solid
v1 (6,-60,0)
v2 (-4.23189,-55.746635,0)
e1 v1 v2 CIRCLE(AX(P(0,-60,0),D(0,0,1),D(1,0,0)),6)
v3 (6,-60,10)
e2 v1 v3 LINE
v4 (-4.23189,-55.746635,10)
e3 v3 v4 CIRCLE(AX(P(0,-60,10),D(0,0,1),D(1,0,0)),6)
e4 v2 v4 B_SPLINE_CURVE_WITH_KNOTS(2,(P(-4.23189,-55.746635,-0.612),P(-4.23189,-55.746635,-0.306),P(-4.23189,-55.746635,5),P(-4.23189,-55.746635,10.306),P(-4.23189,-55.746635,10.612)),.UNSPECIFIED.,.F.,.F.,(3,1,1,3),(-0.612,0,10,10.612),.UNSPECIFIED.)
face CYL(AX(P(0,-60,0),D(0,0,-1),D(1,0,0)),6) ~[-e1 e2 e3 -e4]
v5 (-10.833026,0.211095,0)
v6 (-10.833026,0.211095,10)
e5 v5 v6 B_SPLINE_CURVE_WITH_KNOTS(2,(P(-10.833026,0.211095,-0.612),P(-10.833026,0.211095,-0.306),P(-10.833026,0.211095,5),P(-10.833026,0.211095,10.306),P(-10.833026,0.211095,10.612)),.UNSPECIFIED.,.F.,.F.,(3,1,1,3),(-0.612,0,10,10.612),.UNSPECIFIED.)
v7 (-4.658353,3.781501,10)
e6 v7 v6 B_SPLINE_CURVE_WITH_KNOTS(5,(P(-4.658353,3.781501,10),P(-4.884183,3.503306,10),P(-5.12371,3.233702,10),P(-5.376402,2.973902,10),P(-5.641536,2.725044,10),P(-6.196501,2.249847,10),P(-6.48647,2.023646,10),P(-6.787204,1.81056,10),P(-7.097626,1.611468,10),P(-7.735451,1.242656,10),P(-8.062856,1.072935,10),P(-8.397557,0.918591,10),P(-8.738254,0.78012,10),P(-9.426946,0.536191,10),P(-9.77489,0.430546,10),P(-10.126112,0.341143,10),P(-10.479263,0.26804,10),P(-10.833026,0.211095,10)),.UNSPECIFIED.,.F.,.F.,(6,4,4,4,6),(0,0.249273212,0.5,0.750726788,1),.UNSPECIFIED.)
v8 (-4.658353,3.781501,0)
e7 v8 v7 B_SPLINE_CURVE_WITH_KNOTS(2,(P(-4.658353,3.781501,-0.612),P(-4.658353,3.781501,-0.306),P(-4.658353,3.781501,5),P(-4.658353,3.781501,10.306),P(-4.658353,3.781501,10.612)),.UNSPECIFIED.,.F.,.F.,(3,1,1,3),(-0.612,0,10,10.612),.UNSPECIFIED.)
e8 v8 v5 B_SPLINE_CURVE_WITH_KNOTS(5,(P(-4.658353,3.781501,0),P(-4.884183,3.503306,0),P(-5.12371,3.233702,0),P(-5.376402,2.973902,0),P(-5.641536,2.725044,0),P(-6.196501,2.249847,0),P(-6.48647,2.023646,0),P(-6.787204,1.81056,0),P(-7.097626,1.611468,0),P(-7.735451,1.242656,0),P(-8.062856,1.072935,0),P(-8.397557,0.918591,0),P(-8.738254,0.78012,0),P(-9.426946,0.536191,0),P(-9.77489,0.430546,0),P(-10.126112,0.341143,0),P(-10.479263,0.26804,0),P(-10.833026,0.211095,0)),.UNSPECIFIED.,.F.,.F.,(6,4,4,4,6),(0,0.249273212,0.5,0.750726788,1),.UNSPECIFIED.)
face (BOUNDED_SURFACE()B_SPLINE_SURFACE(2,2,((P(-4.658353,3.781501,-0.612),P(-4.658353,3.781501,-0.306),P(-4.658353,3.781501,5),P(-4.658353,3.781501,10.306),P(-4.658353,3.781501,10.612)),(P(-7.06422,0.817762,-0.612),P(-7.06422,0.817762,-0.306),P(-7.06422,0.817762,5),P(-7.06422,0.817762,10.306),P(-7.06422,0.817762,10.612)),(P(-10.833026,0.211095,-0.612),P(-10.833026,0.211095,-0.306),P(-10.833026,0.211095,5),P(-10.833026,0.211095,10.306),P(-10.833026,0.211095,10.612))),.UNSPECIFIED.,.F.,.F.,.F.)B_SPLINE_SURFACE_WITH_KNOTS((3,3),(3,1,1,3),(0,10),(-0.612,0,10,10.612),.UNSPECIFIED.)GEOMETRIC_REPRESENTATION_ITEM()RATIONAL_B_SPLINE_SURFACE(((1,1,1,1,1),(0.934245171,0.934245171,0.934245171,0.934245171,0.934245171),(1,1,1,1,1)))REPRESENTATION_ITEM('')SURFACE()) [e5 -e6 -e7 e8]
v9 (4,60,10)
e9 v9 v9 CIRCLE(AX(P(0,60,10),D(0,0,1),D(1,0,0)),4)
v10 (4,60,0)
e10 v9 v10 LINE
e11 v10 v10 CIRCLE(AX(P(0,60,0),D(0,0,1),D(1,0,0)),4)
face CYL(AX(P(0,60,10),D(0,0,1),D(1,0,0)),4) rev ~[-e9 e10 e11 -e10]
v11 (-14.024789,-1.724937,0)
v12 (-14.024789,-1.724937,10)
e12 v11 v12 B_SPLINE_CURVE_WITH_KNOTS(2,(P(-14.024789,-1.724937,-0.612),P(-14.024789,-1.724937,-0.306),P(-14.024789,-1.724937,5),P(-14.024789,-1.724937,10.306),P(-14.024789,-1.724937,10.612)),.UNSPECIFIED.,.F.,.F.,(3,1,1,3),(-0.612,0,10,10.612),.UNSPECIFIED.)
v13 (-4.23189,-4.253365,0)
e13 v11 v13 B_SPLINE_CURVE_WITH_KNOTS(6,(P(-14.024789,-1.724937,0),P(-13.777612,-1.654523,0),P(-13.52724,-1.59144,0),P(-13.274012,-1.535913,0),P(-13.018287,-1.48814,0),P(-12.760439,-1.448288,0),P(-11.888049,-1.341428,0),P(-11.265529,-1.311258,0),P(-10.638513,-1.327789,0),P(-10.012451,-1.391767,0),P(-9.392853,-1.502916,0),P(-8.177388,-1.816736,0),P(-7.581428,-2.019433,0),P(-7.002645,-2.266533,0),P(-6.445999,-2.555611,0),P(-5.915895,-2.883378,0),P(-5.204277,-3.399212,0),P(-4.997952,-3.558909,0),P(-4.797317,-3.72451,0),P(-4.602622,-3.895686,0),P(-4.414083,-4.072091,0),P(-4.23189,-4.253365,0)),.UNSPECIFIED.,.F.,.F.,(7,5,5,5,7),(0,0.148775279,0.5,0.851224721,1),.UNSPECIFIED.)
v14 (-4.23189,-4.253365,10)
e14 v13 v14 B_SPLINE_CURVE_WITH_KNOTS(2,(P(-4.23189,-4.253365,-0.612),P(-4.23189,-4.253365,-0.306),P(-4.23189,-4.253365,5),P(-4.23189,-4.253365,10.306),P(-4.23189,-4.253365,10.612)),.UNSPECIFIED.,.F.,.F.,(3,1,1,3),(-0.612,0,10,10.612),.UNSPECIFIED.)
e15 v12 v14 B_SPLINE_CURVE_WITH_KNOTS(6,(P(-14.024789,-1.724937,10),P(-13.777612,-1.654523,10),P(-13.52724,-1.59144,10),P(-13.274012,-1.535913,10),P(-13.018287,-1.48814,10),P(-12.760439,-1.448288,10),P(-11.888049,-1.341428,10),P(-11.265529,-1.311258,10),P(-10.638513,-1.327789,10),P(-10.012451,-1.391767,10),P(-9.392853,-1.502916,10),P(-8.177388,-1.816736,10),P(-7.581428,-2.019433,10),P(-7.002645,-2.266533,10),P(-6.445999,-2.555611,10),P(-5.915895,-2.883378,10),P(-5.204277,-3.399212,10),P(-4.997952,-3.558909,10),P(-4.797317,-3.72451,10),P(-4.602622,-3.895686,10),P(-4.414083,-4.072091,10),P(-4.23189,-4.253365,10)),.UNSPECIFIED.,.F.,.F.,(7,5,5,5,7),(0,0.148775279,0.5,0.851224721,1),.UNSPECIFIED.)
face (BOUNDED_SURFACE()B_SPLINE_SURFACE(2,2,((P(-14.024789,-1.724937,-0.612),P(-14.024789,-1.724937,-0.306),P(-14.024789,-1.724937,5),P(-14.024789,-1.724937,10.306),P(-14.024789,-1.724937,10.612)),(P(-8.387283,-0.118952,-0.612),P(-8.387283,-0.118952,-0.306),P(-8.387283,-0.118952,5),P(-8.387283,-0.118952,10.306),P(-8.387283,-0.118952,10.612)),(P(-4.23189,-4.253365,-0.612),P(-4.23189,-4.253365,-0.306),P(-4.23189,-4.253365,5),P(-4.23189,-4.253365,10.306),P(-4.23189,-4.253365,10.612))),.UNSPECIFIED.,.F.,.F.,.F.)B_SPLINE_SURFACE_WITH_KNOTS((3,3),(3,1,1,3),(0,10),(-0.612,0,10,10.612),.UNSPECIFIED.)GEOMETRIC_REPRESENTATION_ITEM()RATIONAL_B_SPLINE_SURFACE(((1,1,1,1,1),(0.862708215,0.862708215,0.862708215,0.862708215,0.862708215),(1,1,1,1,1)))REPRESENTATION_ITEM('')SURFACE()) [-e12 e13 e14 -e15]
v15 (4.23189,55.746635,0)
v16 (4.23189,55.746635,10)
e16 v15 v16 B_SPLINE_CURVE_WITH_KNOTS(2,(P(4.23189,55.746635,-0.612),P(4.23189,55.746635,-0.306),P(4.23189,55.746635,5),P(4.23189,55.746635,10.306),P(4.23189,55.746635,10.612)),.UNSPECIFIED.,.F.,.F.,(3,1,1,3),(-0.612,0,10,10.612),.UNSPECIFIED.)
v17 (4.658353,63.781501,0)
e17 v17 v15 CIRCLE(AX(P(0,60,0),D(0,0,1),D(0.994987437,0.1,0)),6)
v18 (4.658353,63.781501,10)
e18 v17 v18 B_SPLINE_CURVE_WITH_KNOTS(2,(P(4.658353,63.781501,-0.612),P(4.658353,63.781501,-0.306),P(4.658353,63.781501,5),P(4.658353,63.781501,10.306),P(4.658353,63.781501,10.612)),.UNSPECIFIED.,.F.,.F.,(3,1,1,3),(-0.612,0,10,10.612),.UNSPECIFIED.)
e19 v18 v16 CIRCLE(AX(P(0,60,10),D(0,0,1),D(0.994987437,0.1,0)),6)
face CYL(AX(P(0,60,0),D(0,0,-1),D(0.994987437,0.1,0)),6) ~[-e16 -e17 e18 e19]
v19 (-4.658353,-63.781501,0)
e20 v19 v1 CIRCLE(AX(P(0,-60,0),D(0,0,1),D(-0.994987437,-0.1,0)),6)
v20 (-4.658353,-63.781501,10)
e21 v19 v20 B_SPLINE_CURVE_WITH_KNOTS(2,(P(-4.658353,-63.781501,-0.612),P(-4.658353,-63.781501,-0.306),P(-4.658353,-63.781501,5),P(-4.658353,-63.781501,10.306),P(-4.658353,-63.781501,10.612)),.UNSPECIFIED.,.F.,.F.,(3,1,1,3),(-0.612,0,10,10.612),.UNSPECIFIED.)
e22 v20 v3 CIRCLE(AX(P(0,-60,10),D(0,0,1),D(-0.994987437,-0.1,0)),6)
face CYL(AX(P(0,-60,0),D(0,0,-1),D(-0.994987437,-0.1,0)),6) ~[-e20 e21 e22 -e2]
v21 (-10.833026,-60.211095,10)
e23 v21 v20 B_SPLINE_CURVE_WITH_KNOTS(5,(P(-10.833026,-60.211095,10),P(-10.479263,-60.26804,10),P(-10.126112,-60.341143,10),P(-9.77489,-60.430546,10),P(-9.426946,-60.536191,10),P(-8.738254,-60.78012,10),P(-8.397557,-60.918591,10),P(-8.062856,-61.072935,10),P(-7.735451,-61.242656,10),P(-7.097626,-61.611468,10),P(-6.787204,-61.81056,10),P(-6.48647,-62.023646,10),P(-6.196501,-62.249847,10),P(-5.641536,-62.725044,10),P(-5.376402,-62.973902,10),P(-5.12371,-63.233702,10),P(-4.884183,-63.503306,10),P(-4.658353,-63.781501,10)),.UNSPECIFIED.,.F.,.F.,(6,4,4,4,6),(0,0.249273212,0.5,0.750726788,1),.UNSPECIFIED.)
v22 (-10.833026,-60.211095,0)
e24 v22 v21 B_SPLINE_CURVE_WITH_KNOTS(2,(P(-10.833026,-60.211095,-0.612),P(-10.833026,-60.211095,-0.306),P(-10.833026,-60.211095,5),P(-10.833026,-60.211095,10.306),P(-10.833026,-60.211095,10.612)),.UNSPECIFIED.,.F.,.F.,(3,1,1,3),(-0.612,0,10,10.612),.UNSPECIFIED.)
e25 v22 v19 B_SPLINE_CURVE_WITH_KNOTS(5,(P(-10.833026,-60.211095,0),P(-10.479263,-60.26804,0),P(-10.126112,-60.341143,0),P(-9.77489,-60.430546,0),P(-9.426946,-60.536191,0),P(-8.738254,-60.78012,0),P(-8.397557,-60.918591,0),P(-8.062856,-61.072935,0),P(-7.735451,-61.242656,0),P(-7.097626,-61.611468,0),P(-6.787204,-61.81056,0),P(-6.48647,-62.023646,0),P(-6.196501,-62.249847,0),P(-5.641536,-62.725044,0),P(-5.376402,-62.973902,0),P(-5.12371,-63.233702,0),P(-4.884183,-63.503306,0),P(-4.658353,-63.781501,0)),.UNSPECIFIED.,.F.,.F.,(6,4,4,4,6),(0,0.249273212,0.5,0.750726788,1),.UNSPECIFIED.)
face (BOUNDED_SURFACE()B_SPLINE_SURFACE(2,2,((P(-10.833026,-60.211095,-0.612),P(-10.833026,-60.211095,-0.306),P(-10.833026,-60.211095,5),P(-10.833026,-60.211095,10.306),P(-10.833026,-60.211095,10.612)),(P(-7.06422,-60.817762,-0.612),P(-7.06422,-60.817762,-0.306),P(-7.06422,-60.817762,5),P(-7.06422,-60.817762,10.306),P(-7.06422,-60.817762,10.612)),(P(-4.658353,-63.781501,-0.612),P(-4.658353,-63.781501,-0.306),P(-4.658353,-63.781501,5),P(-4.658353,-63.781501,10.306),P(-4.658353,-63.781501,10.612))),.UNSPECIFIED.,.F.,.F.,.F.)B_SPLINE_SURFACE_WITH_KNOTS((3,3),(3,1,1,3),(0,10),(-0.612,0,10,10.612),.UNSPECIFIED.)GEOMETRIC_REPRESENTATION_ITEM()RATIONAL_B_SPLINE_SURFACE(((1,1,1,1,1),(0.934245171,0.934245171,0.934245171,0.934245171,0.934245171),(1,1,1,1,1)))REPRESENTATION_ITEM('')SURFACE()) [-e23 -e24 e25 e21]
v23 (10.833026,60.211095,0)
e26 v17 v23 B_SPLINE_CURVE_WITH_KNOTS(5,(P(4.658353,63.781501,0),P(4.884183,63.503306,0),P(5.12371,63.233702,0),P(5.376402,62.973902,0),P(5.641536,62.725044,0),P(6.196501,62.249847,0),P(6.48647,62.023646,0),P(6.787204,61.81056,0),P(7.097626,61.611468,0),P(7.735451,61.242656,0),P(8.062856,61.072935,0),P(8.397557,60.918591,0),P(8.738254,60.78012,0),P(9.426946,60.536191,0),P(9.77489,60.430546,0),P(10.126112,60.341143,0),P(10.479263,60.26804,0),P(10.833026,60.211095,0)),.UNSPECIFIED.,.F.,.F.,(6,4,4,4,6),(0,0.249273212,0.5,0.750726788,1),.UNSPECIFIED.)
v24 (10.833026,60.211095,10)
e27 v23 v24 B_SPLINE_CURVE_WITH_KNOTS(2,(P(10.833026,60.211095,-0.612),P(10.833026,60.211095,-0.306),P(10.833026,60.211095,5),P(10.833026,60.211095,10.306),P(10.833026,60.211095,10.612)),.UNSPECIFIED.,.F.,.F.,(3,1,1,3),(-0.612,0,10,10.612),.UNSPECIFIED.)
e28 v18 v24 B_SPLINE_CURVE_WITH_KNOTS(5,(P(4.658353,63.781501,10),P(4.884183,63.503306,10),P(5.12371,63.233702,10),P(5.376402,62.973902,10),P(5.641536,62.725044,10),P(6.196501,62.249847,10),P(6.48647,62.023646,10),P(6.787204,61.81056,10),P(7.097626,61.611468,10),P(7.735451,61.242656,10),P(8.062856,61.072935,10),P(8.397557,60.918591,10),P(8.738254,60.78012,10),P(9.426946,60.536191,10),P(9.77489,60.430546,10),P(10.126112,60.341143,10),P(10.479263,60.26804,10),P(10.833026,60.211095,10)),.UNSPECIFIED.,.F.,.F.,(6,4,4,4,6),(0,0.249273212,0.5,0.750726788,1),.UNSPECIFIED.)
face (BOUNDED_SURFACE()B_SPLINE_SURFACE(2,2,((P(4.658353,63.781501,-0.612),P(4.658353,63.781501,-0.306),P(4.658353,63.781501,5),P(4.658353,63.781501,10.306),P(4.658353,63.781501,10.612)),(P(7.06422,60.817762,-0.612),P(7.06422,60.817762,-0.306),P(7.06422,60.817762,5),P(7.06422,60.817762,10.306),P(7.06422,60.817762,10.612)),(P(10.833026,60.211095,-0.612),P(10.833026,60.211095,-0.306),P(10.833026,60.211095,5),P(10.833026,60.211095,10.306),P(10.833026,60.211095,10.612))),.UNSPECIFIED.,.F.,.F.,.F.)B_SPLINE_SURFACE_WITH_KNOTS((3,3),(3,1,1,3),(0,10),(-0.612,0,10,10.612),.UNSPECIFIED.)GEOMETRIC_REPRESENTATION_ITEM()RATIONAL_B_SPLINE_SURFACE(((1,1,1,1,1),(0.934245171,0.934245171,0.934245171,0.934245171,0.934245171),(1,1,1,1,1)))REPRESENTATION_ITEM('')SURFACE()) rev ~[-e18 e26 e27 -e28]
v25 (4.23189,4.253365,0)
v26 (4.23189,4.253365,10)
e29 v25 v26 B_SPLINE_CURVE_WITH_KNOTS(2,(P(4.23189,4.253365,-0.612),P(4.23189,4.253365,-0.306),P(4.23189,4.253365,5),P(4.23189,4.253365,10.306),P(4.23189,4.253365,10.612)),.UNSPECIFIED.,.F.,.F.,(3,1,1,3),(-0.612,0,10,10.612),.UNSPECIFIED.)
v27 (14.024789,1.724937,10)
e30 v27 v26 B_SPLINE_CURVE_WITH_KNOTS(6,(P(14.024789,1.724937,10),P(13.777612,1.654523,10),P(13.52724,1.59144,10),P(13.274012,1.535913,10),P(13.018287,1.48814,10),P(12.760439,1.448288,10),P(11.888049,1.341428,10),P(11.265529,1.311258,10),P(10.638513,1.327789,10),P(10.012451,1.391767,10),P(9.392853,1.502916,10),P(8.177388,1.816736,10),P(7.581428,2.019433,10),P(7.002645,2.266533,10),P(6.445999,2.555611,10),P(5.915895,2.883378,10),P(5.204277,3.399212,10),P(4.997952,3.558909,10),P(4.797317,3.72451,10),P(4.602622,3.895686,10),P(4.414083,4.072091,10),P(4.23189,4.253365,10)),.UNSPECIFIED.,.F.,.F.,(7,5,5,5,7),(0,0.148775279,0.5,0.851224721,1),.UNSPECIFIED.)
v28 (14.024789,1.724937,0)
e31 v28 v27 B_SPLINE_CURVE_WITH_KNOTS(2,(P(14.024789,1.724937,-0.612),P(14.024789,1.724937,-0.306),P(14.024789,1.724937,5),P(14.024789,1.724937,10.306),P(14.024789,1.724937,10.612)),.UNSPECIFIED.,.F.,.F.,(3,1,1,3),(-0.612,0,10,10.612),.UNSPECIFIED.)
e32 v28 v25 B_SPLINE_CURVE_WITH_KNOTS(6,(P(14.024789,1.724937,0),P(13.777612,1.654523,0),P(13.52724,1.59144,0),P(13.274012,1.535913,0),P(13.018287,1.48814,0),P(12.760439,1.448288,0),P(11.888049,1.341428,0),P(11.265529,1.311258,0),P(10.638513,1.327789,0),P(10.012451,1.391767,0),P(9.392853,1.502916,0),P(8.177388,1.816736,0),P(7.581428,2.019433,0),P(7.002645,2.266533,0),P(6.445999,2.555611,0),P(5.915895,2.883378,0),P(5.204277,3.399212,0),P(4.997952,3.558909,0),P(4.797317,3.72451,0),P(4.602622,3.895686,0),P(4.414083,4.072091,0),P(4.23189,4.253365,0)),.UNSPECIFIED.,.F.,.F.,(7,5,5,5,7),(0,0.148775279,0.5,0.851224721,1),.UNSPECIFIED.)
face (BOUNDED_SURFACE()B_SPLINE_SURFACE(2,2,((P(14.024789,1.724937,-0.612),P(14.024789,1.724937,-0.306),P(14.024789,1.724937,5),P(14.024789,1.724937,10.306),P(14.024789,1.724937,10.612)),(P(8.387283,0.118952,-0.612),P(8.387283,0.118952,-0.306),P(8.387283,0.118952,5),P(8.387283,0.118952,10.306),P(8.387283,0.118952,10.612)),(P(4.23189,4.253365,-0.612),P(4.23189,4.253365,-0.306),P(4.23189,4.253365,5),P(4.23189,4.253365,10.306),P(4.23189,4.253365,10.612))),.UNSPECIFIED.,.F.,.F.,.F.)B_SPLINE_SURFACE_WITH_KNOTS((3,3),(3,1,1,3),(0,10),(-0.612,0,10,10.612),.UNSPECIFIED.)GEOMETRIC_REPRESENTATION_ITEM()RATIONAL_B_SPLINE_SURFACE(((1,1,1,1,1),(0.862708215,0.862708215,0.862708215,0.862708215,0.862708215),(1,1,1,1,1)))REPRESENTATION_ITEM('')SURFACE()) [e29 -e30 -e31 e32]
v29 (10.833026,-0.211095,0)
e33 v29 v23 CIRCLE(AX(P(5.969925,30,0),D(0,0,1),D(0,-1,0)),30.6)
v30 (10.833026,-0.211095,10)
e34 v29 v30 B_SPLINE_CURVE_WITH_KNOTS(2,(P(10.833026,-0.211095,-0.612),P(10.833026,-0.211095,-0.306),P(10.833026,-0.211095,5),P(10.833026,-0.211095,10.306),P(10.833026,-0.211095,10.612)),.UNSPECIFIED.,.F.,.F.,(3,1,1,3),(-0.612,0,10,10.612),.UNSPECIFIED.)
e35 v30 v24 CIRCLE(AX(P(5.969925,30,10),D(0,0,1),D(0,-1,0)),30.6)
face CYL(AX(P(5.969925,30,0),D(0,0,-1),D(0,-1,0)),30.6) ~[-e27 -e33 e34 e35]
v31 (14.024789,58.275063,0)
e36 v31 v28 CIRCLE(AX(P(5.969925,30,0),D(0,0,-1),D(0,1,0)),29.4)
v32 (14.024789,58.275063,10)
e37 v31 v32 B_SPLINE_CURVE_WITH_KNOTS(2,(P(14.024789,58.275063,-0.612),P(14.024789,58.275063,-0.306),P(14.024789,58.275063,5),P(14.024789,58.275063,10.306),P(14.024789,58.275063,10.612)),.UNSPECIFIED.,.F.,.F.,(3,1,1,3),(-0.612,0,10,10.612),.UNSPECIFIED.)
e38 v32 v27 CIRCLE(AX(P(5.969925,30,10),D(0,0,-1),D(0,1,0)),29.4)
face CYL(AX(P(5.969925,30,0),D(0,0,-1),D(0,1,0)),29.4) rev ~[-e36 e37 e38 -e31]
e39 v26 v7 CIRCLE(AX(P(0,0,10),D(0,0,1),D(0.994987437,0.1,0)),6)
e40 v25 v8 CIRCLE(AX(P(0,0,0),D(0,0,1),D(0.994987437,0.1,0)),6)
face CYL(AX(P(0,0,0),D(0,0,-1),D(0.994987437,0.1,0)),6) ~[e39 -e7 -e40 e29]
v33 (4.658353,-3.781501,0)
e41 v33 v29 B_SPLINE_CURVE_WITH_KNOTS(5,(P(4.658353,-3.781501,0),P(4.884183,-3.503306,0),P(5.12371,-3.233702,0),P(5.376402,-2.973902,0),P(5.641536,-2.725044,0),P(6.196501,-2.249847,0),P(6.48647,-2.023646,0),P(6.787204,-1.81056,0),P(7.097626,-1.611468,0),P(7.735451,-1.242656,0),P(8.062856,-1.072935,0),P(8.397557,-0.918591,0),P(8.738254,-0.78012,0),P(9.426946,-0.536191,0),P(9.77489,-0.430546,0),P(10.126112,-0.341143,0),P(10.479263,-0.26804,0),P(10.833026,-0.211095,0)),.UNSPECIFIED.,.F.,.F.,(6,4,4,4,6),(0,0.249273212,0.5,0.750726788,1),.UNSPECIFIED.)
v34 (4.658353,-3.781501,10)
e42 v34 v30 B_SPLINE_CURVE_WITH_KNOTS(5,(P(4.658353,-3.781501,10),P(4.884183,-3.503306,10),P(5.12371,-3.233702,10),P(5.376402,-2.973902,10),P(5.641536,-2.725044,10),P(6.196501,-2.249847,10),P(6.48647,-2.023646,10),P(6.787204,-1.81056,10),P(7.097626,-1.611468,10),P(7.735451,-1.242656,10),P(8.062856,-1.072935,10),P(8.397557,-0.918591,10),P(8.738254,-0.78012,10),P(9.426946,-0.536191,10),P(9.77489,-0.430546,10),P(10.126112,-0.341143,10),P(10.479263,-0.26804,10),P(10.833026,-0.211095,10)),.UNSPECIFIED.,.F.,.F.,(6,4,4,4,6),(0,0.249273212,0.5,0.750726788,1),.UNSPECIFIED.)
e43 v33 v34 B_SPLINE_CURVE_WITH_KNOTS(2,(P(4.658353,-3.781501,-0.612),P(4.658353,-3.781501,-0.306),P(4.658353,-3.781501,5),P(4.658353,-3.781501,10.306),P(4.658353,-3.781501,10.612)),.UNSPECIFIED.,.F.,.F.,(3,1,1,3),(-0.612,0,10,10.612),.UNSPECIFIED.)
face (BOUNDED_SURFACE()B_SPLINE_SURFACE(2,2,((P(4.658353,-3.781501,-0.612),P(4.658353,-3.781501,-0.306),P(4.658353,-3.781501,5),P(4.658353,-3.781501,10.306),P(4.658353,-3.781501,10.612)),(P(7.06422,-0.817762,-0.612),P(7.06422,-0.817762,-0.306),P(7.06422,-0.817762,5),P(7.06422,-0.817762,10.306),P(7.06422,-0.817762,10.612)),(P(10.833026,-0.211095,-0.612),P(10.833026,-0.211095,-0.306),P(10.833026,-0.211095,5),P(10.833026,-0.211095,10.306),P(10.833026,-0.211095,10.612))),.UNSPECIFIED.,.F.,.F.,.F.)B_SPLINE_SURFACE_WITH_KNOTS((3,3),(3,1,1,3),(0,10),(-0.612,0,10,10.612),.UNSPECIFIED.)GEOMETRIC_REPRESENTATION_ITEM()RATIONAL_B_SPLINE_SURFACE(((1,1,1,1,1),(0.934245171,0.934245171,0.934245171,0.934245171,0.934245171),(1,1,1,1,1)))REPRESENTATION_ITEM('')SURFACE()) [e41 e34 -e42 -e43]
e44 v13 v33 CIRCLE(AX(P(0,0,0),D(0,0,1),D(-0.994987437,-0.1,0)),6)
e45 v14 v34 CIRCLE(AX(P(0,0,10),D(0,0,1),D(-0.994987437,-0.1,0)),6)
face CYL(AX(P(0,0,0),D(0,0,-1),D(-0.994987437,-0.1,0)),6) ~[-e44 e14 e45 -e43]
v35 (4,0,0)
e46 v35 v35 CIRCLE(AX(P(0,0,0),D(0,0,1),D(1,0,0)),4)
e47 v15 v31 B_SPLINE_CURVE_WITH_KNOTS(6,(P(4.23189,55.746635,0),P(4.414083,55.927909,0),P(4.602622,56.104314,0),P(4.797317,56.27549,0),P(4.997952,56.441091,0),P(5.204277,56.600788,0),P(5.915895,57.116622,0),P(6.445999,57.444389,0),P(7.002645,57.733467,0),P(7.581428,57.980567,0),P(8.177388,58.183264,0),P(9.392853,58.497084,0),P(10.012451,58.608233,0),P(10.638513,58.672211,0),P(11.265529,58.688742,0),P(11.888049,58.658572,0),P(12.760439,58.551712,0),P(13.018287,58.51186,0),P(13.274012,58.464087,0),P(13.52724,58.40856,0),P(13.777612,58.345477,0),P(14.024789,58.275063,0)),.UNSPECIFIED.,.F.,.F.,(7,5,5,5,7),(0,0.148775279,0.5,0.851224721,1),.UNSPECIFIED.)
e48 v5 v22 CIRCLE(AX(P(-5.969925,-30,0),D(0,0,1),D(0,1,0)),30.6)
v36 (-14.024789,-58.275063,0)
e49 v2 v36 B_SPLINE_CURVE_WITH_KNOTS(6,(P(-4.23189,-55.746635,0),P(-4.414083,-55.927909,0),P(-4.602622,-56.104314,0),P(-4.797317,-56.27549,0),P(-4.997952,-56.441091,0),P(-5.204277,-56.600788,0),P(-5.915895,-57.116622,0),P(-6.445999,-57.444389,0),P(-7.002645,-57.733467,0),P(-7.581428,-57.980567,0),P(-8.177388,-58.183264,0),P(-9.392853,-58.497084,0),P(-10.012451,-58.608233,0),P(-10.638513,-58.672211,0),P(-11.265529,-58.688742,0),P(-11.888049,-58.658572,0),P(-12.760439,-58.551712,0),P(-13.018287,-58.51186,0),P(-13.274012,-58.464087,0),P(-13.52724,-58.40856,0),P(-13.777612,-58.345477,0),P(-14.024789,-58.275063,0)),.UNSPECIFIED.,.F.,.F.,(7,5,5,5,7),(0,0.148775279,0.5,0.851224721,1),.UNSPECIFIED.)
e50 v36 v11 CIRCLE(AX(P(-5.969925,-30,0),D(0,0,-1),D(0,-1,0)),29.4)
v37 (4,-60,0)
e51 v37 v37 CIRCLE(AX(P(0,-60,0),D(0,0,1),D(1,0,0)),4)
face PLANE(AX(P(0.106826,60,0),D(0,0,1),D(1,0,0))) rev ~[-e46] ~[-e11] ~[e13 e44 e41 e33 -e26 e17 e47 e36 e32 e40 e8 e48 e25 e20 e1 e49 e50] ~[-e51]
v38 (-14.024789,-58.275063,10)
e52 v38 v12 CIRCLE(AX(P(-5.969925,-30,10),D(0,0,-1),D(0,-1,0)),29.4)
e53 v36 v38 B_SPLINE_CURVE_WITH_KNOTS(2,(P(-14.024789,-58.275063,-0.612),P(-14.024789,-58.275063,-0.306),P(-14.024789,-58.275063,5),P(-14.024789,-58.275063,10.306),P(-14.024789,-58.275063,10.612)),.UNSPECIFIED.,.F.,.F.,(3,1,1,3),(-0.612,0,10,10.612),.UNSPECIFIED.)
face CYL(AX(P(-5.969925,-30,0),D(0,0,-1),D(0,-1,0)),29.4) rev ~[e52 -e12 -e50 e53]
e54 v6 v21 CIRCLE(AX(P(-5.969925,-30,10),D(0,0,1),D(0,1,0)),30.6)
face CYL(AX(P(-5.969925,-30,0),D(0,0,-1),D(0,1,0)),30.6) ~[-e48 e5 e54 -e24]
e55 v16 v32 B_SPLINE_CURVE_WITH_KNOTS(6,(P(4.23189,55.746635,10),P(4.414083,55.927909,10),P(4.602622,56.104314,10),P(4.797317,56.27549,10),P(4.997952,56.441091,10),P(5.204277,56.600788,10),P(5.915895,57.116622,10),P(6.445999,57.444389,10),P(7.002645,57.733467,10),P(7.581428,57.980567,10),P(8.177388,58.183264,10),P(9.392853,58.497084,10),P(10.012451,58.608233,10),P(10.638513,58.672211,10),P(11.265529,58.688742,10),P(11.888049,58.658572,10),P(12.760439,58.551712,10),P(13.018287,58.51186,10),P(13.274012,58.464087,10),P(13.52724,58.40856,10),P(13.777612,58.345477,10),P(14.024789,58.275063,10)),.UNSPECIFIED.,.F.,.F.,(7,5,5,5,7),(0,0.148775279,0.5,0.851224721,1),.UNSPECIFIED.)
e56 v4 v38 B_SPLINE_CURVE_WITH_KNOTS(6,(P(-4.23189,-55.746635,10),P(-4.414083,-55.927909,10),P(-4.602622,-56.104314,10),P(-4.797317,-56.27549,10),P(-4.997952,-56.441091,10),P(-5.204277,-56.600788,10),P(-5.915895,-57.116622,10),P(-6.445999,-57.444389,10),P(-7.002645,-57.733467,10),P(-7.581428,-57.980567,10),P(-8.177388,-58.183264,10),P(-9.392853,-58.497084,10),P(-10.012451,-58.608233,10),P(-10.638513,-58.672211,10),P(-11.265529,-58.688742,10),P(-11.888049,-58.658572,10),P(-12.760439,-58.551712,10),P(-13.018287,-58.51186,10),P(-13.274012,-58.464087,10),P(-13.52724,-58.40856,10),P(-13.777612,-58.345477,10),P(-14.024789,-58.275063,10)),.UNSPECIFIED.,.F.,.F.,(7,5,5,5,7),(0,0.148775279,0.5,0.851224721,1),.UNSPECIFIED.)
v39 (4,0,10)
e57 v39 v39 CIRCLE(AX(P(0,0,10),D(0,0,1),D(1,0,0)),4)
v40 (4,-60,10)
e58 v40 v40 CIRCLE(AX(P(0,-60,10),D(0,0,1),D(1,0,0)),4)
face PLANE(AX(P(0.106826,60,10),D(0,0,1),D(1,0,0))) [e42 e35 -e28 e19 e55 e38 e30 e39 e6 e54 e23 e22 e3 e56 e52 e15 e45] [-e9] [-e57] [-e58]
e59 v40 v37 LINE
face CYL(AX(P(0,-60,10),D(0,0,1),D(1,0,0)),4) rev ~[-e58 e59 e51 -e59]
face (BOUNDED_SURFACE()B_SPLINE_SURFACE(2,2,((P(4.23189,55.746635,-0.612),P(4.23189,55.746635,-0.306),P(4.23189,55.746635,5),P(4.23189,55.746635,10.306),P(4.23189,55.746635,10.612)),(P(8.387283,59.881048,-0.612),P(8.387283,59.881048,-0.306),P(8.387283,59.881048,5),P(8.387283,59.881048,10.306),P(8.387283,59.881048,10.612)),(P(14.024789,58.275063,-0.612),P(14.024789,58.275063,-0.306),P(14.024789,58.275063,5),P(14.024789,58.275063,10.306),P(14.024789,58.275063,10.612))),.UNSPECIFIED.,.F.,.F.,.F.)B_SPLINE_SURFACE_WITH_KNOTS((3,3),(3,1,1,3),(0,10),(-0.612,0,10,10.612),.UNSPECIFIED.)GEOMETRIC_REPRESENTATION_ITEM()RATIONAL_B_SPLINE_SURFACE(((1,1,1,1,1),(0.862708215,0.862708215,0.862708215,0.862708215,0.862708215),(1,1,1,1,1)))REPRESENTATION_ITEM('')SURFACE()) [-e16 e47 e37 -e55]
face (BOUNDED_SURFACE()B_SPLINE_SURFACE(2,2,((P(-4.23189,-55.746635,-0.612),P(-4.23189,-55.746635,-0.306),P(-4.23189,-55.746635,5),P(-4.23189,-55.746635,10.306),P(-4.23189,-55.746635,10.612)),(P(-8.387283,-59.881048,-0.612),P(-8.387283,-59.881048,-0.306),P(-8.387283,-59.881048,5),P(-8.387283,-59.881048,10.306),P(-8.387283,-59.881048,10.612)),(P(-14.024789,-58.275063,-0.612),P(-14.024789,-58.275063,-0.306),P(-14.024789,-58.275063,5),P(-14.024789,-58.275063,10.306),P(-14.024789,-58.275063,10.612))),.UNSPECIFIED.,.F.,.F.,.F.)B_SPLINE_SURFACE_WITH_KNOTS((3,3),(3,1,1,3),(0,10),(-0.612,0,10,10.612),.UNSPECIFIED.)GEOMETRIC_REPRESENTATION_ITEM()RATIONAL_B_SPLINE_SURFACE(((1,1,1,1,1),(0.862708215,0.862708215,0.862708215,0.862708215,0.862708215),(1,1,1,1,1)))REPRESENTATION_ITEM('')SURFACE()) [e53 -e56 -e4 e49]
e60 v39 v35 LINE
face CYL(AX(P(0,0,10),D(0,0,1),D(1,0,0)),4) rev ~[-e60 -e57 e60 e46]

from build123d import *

# Parameters (mm, degrees)
F1_DEPTH = 10
F2_R     = 10
F3_R     = 4
F4_DEPTH = 10


with BuildPart() as f1:
    # F0 (on Top) → F1 (new body)
    with BuildSketch(Plane.XY):
        with BuildLine():
            ThreePointArc((5.9699246226, 59.4), (5.9924764387, 59.6996233496), (6, 60))
            ThreePointArc((6, 60), (5.9924764387, 60.3003766504), (5.9699246226, 60.6))
            ThreePointArc((5.9699246226, 60.6), (-6, 60), (5.9699246226, 59.4))
        make_face()
        with BuildLine():
            ThreePointArc((5.9699246226, 60.6), (5.9924764387, 60.3003766504), (6, 60))
            ThreePointArc((6, 60), (5.9924764387, 59.6996233496), (5.9699246226, 59.4))
            ThreePointArc((5.9699246226, 59.4), (35.3699246226, 30), (5.9699246226, 0.6))
            ThreePointArc((5.9699246226, 0.6), (5.9924764387, 0.3003766504), (6, 0))
            ThreePointArc((6, 0), (5.9924764387, -0.3003766504), (5.9699246226, -0.6))
            ThreePointArc((5.9699246226, -0.6), (36.5699246226, 30), (5.9699246226, 60.6))
        make_face()
        with BuildLine():
            ThreePointArc((-5.9699246226, -0.6), (0, -6), (5.9699246226, -0.6))
            ThreePointArc((5.9699246226, -0.6), (5.9924764387, -0.3003766504), (6, 0))
            ThreePointArc((6, 0), (5.9924764387, 0.3003766504), (5.9699246226, 0.6))
            ThreePointArc((5.9699246226, 0.6), (0, 6), (-5.9699246226, 0.6))
            ThreePointArc((-5.9699246226, 0.6), (-6, 0), (-5.9699246226, -0.6))
        make_face()
        with BuildLine():
            ThreePointArc((-5.9699246226, -59.4), (-35.3699246226, -30), (-5.9699246226, -0.6))
            ThreePointArc((-5.9699246226, -0.6), (-6, 0), (-5.9699246226, 0.6))
            ThreePointArc((-5.9699246226, 0.6), (-36.5699246226, -30), (-5.9699246226, -60.6))
            ThreePointArc((-5.9699246226, -60.6), (-6, -60), (-5.9699246226, -59.4))
        make_face()
        with BuildLine():
            ThreePointArc((6, -60), (0.3003766504, -54.0075235613), (-5.9699246226, -59.4))
            ThreePointArc((-5.9699246226, -59.4), (-6, -60), (-5.9699246226, -60.6))
            ThreePointArc((-5.9699246226, -60.6), (0.3003766504, -65.9924764387), (6, -60))
        make_face()
    extrude(amount=F1_DEPTH)

    # F2
    f2_edges = [f1.edges().sort_by_distance(p)[0] for p in [
        (5.969925, -0.6, 5),
        (5.969925, 59.4, 5),
        (5.969925, 0.6, 5),
        (5.969925, 60.6, 5),
        (-5.969925, -60.6, 5),
        (-5.969925, -0.6, 5),
        (-5.969925, -59.4, 5),
        (-5.969925, 0.6, 5),
    ]]
    fillet(f2_edges, radius=F2_R)

    # F3 (on face) → F4 (cut, through all)
    with BuildSketch(Plane.XY.offset(10)):
        Circle(F3_R)
        with Locations((0, 60)):
            Circle(F3_R)
        with Locations((0, -60)):
            Circle(F3_R)
    extrude(amount=-F4_DEPTH, mode=Mode.SUBTRACT)


solid = f1.part
